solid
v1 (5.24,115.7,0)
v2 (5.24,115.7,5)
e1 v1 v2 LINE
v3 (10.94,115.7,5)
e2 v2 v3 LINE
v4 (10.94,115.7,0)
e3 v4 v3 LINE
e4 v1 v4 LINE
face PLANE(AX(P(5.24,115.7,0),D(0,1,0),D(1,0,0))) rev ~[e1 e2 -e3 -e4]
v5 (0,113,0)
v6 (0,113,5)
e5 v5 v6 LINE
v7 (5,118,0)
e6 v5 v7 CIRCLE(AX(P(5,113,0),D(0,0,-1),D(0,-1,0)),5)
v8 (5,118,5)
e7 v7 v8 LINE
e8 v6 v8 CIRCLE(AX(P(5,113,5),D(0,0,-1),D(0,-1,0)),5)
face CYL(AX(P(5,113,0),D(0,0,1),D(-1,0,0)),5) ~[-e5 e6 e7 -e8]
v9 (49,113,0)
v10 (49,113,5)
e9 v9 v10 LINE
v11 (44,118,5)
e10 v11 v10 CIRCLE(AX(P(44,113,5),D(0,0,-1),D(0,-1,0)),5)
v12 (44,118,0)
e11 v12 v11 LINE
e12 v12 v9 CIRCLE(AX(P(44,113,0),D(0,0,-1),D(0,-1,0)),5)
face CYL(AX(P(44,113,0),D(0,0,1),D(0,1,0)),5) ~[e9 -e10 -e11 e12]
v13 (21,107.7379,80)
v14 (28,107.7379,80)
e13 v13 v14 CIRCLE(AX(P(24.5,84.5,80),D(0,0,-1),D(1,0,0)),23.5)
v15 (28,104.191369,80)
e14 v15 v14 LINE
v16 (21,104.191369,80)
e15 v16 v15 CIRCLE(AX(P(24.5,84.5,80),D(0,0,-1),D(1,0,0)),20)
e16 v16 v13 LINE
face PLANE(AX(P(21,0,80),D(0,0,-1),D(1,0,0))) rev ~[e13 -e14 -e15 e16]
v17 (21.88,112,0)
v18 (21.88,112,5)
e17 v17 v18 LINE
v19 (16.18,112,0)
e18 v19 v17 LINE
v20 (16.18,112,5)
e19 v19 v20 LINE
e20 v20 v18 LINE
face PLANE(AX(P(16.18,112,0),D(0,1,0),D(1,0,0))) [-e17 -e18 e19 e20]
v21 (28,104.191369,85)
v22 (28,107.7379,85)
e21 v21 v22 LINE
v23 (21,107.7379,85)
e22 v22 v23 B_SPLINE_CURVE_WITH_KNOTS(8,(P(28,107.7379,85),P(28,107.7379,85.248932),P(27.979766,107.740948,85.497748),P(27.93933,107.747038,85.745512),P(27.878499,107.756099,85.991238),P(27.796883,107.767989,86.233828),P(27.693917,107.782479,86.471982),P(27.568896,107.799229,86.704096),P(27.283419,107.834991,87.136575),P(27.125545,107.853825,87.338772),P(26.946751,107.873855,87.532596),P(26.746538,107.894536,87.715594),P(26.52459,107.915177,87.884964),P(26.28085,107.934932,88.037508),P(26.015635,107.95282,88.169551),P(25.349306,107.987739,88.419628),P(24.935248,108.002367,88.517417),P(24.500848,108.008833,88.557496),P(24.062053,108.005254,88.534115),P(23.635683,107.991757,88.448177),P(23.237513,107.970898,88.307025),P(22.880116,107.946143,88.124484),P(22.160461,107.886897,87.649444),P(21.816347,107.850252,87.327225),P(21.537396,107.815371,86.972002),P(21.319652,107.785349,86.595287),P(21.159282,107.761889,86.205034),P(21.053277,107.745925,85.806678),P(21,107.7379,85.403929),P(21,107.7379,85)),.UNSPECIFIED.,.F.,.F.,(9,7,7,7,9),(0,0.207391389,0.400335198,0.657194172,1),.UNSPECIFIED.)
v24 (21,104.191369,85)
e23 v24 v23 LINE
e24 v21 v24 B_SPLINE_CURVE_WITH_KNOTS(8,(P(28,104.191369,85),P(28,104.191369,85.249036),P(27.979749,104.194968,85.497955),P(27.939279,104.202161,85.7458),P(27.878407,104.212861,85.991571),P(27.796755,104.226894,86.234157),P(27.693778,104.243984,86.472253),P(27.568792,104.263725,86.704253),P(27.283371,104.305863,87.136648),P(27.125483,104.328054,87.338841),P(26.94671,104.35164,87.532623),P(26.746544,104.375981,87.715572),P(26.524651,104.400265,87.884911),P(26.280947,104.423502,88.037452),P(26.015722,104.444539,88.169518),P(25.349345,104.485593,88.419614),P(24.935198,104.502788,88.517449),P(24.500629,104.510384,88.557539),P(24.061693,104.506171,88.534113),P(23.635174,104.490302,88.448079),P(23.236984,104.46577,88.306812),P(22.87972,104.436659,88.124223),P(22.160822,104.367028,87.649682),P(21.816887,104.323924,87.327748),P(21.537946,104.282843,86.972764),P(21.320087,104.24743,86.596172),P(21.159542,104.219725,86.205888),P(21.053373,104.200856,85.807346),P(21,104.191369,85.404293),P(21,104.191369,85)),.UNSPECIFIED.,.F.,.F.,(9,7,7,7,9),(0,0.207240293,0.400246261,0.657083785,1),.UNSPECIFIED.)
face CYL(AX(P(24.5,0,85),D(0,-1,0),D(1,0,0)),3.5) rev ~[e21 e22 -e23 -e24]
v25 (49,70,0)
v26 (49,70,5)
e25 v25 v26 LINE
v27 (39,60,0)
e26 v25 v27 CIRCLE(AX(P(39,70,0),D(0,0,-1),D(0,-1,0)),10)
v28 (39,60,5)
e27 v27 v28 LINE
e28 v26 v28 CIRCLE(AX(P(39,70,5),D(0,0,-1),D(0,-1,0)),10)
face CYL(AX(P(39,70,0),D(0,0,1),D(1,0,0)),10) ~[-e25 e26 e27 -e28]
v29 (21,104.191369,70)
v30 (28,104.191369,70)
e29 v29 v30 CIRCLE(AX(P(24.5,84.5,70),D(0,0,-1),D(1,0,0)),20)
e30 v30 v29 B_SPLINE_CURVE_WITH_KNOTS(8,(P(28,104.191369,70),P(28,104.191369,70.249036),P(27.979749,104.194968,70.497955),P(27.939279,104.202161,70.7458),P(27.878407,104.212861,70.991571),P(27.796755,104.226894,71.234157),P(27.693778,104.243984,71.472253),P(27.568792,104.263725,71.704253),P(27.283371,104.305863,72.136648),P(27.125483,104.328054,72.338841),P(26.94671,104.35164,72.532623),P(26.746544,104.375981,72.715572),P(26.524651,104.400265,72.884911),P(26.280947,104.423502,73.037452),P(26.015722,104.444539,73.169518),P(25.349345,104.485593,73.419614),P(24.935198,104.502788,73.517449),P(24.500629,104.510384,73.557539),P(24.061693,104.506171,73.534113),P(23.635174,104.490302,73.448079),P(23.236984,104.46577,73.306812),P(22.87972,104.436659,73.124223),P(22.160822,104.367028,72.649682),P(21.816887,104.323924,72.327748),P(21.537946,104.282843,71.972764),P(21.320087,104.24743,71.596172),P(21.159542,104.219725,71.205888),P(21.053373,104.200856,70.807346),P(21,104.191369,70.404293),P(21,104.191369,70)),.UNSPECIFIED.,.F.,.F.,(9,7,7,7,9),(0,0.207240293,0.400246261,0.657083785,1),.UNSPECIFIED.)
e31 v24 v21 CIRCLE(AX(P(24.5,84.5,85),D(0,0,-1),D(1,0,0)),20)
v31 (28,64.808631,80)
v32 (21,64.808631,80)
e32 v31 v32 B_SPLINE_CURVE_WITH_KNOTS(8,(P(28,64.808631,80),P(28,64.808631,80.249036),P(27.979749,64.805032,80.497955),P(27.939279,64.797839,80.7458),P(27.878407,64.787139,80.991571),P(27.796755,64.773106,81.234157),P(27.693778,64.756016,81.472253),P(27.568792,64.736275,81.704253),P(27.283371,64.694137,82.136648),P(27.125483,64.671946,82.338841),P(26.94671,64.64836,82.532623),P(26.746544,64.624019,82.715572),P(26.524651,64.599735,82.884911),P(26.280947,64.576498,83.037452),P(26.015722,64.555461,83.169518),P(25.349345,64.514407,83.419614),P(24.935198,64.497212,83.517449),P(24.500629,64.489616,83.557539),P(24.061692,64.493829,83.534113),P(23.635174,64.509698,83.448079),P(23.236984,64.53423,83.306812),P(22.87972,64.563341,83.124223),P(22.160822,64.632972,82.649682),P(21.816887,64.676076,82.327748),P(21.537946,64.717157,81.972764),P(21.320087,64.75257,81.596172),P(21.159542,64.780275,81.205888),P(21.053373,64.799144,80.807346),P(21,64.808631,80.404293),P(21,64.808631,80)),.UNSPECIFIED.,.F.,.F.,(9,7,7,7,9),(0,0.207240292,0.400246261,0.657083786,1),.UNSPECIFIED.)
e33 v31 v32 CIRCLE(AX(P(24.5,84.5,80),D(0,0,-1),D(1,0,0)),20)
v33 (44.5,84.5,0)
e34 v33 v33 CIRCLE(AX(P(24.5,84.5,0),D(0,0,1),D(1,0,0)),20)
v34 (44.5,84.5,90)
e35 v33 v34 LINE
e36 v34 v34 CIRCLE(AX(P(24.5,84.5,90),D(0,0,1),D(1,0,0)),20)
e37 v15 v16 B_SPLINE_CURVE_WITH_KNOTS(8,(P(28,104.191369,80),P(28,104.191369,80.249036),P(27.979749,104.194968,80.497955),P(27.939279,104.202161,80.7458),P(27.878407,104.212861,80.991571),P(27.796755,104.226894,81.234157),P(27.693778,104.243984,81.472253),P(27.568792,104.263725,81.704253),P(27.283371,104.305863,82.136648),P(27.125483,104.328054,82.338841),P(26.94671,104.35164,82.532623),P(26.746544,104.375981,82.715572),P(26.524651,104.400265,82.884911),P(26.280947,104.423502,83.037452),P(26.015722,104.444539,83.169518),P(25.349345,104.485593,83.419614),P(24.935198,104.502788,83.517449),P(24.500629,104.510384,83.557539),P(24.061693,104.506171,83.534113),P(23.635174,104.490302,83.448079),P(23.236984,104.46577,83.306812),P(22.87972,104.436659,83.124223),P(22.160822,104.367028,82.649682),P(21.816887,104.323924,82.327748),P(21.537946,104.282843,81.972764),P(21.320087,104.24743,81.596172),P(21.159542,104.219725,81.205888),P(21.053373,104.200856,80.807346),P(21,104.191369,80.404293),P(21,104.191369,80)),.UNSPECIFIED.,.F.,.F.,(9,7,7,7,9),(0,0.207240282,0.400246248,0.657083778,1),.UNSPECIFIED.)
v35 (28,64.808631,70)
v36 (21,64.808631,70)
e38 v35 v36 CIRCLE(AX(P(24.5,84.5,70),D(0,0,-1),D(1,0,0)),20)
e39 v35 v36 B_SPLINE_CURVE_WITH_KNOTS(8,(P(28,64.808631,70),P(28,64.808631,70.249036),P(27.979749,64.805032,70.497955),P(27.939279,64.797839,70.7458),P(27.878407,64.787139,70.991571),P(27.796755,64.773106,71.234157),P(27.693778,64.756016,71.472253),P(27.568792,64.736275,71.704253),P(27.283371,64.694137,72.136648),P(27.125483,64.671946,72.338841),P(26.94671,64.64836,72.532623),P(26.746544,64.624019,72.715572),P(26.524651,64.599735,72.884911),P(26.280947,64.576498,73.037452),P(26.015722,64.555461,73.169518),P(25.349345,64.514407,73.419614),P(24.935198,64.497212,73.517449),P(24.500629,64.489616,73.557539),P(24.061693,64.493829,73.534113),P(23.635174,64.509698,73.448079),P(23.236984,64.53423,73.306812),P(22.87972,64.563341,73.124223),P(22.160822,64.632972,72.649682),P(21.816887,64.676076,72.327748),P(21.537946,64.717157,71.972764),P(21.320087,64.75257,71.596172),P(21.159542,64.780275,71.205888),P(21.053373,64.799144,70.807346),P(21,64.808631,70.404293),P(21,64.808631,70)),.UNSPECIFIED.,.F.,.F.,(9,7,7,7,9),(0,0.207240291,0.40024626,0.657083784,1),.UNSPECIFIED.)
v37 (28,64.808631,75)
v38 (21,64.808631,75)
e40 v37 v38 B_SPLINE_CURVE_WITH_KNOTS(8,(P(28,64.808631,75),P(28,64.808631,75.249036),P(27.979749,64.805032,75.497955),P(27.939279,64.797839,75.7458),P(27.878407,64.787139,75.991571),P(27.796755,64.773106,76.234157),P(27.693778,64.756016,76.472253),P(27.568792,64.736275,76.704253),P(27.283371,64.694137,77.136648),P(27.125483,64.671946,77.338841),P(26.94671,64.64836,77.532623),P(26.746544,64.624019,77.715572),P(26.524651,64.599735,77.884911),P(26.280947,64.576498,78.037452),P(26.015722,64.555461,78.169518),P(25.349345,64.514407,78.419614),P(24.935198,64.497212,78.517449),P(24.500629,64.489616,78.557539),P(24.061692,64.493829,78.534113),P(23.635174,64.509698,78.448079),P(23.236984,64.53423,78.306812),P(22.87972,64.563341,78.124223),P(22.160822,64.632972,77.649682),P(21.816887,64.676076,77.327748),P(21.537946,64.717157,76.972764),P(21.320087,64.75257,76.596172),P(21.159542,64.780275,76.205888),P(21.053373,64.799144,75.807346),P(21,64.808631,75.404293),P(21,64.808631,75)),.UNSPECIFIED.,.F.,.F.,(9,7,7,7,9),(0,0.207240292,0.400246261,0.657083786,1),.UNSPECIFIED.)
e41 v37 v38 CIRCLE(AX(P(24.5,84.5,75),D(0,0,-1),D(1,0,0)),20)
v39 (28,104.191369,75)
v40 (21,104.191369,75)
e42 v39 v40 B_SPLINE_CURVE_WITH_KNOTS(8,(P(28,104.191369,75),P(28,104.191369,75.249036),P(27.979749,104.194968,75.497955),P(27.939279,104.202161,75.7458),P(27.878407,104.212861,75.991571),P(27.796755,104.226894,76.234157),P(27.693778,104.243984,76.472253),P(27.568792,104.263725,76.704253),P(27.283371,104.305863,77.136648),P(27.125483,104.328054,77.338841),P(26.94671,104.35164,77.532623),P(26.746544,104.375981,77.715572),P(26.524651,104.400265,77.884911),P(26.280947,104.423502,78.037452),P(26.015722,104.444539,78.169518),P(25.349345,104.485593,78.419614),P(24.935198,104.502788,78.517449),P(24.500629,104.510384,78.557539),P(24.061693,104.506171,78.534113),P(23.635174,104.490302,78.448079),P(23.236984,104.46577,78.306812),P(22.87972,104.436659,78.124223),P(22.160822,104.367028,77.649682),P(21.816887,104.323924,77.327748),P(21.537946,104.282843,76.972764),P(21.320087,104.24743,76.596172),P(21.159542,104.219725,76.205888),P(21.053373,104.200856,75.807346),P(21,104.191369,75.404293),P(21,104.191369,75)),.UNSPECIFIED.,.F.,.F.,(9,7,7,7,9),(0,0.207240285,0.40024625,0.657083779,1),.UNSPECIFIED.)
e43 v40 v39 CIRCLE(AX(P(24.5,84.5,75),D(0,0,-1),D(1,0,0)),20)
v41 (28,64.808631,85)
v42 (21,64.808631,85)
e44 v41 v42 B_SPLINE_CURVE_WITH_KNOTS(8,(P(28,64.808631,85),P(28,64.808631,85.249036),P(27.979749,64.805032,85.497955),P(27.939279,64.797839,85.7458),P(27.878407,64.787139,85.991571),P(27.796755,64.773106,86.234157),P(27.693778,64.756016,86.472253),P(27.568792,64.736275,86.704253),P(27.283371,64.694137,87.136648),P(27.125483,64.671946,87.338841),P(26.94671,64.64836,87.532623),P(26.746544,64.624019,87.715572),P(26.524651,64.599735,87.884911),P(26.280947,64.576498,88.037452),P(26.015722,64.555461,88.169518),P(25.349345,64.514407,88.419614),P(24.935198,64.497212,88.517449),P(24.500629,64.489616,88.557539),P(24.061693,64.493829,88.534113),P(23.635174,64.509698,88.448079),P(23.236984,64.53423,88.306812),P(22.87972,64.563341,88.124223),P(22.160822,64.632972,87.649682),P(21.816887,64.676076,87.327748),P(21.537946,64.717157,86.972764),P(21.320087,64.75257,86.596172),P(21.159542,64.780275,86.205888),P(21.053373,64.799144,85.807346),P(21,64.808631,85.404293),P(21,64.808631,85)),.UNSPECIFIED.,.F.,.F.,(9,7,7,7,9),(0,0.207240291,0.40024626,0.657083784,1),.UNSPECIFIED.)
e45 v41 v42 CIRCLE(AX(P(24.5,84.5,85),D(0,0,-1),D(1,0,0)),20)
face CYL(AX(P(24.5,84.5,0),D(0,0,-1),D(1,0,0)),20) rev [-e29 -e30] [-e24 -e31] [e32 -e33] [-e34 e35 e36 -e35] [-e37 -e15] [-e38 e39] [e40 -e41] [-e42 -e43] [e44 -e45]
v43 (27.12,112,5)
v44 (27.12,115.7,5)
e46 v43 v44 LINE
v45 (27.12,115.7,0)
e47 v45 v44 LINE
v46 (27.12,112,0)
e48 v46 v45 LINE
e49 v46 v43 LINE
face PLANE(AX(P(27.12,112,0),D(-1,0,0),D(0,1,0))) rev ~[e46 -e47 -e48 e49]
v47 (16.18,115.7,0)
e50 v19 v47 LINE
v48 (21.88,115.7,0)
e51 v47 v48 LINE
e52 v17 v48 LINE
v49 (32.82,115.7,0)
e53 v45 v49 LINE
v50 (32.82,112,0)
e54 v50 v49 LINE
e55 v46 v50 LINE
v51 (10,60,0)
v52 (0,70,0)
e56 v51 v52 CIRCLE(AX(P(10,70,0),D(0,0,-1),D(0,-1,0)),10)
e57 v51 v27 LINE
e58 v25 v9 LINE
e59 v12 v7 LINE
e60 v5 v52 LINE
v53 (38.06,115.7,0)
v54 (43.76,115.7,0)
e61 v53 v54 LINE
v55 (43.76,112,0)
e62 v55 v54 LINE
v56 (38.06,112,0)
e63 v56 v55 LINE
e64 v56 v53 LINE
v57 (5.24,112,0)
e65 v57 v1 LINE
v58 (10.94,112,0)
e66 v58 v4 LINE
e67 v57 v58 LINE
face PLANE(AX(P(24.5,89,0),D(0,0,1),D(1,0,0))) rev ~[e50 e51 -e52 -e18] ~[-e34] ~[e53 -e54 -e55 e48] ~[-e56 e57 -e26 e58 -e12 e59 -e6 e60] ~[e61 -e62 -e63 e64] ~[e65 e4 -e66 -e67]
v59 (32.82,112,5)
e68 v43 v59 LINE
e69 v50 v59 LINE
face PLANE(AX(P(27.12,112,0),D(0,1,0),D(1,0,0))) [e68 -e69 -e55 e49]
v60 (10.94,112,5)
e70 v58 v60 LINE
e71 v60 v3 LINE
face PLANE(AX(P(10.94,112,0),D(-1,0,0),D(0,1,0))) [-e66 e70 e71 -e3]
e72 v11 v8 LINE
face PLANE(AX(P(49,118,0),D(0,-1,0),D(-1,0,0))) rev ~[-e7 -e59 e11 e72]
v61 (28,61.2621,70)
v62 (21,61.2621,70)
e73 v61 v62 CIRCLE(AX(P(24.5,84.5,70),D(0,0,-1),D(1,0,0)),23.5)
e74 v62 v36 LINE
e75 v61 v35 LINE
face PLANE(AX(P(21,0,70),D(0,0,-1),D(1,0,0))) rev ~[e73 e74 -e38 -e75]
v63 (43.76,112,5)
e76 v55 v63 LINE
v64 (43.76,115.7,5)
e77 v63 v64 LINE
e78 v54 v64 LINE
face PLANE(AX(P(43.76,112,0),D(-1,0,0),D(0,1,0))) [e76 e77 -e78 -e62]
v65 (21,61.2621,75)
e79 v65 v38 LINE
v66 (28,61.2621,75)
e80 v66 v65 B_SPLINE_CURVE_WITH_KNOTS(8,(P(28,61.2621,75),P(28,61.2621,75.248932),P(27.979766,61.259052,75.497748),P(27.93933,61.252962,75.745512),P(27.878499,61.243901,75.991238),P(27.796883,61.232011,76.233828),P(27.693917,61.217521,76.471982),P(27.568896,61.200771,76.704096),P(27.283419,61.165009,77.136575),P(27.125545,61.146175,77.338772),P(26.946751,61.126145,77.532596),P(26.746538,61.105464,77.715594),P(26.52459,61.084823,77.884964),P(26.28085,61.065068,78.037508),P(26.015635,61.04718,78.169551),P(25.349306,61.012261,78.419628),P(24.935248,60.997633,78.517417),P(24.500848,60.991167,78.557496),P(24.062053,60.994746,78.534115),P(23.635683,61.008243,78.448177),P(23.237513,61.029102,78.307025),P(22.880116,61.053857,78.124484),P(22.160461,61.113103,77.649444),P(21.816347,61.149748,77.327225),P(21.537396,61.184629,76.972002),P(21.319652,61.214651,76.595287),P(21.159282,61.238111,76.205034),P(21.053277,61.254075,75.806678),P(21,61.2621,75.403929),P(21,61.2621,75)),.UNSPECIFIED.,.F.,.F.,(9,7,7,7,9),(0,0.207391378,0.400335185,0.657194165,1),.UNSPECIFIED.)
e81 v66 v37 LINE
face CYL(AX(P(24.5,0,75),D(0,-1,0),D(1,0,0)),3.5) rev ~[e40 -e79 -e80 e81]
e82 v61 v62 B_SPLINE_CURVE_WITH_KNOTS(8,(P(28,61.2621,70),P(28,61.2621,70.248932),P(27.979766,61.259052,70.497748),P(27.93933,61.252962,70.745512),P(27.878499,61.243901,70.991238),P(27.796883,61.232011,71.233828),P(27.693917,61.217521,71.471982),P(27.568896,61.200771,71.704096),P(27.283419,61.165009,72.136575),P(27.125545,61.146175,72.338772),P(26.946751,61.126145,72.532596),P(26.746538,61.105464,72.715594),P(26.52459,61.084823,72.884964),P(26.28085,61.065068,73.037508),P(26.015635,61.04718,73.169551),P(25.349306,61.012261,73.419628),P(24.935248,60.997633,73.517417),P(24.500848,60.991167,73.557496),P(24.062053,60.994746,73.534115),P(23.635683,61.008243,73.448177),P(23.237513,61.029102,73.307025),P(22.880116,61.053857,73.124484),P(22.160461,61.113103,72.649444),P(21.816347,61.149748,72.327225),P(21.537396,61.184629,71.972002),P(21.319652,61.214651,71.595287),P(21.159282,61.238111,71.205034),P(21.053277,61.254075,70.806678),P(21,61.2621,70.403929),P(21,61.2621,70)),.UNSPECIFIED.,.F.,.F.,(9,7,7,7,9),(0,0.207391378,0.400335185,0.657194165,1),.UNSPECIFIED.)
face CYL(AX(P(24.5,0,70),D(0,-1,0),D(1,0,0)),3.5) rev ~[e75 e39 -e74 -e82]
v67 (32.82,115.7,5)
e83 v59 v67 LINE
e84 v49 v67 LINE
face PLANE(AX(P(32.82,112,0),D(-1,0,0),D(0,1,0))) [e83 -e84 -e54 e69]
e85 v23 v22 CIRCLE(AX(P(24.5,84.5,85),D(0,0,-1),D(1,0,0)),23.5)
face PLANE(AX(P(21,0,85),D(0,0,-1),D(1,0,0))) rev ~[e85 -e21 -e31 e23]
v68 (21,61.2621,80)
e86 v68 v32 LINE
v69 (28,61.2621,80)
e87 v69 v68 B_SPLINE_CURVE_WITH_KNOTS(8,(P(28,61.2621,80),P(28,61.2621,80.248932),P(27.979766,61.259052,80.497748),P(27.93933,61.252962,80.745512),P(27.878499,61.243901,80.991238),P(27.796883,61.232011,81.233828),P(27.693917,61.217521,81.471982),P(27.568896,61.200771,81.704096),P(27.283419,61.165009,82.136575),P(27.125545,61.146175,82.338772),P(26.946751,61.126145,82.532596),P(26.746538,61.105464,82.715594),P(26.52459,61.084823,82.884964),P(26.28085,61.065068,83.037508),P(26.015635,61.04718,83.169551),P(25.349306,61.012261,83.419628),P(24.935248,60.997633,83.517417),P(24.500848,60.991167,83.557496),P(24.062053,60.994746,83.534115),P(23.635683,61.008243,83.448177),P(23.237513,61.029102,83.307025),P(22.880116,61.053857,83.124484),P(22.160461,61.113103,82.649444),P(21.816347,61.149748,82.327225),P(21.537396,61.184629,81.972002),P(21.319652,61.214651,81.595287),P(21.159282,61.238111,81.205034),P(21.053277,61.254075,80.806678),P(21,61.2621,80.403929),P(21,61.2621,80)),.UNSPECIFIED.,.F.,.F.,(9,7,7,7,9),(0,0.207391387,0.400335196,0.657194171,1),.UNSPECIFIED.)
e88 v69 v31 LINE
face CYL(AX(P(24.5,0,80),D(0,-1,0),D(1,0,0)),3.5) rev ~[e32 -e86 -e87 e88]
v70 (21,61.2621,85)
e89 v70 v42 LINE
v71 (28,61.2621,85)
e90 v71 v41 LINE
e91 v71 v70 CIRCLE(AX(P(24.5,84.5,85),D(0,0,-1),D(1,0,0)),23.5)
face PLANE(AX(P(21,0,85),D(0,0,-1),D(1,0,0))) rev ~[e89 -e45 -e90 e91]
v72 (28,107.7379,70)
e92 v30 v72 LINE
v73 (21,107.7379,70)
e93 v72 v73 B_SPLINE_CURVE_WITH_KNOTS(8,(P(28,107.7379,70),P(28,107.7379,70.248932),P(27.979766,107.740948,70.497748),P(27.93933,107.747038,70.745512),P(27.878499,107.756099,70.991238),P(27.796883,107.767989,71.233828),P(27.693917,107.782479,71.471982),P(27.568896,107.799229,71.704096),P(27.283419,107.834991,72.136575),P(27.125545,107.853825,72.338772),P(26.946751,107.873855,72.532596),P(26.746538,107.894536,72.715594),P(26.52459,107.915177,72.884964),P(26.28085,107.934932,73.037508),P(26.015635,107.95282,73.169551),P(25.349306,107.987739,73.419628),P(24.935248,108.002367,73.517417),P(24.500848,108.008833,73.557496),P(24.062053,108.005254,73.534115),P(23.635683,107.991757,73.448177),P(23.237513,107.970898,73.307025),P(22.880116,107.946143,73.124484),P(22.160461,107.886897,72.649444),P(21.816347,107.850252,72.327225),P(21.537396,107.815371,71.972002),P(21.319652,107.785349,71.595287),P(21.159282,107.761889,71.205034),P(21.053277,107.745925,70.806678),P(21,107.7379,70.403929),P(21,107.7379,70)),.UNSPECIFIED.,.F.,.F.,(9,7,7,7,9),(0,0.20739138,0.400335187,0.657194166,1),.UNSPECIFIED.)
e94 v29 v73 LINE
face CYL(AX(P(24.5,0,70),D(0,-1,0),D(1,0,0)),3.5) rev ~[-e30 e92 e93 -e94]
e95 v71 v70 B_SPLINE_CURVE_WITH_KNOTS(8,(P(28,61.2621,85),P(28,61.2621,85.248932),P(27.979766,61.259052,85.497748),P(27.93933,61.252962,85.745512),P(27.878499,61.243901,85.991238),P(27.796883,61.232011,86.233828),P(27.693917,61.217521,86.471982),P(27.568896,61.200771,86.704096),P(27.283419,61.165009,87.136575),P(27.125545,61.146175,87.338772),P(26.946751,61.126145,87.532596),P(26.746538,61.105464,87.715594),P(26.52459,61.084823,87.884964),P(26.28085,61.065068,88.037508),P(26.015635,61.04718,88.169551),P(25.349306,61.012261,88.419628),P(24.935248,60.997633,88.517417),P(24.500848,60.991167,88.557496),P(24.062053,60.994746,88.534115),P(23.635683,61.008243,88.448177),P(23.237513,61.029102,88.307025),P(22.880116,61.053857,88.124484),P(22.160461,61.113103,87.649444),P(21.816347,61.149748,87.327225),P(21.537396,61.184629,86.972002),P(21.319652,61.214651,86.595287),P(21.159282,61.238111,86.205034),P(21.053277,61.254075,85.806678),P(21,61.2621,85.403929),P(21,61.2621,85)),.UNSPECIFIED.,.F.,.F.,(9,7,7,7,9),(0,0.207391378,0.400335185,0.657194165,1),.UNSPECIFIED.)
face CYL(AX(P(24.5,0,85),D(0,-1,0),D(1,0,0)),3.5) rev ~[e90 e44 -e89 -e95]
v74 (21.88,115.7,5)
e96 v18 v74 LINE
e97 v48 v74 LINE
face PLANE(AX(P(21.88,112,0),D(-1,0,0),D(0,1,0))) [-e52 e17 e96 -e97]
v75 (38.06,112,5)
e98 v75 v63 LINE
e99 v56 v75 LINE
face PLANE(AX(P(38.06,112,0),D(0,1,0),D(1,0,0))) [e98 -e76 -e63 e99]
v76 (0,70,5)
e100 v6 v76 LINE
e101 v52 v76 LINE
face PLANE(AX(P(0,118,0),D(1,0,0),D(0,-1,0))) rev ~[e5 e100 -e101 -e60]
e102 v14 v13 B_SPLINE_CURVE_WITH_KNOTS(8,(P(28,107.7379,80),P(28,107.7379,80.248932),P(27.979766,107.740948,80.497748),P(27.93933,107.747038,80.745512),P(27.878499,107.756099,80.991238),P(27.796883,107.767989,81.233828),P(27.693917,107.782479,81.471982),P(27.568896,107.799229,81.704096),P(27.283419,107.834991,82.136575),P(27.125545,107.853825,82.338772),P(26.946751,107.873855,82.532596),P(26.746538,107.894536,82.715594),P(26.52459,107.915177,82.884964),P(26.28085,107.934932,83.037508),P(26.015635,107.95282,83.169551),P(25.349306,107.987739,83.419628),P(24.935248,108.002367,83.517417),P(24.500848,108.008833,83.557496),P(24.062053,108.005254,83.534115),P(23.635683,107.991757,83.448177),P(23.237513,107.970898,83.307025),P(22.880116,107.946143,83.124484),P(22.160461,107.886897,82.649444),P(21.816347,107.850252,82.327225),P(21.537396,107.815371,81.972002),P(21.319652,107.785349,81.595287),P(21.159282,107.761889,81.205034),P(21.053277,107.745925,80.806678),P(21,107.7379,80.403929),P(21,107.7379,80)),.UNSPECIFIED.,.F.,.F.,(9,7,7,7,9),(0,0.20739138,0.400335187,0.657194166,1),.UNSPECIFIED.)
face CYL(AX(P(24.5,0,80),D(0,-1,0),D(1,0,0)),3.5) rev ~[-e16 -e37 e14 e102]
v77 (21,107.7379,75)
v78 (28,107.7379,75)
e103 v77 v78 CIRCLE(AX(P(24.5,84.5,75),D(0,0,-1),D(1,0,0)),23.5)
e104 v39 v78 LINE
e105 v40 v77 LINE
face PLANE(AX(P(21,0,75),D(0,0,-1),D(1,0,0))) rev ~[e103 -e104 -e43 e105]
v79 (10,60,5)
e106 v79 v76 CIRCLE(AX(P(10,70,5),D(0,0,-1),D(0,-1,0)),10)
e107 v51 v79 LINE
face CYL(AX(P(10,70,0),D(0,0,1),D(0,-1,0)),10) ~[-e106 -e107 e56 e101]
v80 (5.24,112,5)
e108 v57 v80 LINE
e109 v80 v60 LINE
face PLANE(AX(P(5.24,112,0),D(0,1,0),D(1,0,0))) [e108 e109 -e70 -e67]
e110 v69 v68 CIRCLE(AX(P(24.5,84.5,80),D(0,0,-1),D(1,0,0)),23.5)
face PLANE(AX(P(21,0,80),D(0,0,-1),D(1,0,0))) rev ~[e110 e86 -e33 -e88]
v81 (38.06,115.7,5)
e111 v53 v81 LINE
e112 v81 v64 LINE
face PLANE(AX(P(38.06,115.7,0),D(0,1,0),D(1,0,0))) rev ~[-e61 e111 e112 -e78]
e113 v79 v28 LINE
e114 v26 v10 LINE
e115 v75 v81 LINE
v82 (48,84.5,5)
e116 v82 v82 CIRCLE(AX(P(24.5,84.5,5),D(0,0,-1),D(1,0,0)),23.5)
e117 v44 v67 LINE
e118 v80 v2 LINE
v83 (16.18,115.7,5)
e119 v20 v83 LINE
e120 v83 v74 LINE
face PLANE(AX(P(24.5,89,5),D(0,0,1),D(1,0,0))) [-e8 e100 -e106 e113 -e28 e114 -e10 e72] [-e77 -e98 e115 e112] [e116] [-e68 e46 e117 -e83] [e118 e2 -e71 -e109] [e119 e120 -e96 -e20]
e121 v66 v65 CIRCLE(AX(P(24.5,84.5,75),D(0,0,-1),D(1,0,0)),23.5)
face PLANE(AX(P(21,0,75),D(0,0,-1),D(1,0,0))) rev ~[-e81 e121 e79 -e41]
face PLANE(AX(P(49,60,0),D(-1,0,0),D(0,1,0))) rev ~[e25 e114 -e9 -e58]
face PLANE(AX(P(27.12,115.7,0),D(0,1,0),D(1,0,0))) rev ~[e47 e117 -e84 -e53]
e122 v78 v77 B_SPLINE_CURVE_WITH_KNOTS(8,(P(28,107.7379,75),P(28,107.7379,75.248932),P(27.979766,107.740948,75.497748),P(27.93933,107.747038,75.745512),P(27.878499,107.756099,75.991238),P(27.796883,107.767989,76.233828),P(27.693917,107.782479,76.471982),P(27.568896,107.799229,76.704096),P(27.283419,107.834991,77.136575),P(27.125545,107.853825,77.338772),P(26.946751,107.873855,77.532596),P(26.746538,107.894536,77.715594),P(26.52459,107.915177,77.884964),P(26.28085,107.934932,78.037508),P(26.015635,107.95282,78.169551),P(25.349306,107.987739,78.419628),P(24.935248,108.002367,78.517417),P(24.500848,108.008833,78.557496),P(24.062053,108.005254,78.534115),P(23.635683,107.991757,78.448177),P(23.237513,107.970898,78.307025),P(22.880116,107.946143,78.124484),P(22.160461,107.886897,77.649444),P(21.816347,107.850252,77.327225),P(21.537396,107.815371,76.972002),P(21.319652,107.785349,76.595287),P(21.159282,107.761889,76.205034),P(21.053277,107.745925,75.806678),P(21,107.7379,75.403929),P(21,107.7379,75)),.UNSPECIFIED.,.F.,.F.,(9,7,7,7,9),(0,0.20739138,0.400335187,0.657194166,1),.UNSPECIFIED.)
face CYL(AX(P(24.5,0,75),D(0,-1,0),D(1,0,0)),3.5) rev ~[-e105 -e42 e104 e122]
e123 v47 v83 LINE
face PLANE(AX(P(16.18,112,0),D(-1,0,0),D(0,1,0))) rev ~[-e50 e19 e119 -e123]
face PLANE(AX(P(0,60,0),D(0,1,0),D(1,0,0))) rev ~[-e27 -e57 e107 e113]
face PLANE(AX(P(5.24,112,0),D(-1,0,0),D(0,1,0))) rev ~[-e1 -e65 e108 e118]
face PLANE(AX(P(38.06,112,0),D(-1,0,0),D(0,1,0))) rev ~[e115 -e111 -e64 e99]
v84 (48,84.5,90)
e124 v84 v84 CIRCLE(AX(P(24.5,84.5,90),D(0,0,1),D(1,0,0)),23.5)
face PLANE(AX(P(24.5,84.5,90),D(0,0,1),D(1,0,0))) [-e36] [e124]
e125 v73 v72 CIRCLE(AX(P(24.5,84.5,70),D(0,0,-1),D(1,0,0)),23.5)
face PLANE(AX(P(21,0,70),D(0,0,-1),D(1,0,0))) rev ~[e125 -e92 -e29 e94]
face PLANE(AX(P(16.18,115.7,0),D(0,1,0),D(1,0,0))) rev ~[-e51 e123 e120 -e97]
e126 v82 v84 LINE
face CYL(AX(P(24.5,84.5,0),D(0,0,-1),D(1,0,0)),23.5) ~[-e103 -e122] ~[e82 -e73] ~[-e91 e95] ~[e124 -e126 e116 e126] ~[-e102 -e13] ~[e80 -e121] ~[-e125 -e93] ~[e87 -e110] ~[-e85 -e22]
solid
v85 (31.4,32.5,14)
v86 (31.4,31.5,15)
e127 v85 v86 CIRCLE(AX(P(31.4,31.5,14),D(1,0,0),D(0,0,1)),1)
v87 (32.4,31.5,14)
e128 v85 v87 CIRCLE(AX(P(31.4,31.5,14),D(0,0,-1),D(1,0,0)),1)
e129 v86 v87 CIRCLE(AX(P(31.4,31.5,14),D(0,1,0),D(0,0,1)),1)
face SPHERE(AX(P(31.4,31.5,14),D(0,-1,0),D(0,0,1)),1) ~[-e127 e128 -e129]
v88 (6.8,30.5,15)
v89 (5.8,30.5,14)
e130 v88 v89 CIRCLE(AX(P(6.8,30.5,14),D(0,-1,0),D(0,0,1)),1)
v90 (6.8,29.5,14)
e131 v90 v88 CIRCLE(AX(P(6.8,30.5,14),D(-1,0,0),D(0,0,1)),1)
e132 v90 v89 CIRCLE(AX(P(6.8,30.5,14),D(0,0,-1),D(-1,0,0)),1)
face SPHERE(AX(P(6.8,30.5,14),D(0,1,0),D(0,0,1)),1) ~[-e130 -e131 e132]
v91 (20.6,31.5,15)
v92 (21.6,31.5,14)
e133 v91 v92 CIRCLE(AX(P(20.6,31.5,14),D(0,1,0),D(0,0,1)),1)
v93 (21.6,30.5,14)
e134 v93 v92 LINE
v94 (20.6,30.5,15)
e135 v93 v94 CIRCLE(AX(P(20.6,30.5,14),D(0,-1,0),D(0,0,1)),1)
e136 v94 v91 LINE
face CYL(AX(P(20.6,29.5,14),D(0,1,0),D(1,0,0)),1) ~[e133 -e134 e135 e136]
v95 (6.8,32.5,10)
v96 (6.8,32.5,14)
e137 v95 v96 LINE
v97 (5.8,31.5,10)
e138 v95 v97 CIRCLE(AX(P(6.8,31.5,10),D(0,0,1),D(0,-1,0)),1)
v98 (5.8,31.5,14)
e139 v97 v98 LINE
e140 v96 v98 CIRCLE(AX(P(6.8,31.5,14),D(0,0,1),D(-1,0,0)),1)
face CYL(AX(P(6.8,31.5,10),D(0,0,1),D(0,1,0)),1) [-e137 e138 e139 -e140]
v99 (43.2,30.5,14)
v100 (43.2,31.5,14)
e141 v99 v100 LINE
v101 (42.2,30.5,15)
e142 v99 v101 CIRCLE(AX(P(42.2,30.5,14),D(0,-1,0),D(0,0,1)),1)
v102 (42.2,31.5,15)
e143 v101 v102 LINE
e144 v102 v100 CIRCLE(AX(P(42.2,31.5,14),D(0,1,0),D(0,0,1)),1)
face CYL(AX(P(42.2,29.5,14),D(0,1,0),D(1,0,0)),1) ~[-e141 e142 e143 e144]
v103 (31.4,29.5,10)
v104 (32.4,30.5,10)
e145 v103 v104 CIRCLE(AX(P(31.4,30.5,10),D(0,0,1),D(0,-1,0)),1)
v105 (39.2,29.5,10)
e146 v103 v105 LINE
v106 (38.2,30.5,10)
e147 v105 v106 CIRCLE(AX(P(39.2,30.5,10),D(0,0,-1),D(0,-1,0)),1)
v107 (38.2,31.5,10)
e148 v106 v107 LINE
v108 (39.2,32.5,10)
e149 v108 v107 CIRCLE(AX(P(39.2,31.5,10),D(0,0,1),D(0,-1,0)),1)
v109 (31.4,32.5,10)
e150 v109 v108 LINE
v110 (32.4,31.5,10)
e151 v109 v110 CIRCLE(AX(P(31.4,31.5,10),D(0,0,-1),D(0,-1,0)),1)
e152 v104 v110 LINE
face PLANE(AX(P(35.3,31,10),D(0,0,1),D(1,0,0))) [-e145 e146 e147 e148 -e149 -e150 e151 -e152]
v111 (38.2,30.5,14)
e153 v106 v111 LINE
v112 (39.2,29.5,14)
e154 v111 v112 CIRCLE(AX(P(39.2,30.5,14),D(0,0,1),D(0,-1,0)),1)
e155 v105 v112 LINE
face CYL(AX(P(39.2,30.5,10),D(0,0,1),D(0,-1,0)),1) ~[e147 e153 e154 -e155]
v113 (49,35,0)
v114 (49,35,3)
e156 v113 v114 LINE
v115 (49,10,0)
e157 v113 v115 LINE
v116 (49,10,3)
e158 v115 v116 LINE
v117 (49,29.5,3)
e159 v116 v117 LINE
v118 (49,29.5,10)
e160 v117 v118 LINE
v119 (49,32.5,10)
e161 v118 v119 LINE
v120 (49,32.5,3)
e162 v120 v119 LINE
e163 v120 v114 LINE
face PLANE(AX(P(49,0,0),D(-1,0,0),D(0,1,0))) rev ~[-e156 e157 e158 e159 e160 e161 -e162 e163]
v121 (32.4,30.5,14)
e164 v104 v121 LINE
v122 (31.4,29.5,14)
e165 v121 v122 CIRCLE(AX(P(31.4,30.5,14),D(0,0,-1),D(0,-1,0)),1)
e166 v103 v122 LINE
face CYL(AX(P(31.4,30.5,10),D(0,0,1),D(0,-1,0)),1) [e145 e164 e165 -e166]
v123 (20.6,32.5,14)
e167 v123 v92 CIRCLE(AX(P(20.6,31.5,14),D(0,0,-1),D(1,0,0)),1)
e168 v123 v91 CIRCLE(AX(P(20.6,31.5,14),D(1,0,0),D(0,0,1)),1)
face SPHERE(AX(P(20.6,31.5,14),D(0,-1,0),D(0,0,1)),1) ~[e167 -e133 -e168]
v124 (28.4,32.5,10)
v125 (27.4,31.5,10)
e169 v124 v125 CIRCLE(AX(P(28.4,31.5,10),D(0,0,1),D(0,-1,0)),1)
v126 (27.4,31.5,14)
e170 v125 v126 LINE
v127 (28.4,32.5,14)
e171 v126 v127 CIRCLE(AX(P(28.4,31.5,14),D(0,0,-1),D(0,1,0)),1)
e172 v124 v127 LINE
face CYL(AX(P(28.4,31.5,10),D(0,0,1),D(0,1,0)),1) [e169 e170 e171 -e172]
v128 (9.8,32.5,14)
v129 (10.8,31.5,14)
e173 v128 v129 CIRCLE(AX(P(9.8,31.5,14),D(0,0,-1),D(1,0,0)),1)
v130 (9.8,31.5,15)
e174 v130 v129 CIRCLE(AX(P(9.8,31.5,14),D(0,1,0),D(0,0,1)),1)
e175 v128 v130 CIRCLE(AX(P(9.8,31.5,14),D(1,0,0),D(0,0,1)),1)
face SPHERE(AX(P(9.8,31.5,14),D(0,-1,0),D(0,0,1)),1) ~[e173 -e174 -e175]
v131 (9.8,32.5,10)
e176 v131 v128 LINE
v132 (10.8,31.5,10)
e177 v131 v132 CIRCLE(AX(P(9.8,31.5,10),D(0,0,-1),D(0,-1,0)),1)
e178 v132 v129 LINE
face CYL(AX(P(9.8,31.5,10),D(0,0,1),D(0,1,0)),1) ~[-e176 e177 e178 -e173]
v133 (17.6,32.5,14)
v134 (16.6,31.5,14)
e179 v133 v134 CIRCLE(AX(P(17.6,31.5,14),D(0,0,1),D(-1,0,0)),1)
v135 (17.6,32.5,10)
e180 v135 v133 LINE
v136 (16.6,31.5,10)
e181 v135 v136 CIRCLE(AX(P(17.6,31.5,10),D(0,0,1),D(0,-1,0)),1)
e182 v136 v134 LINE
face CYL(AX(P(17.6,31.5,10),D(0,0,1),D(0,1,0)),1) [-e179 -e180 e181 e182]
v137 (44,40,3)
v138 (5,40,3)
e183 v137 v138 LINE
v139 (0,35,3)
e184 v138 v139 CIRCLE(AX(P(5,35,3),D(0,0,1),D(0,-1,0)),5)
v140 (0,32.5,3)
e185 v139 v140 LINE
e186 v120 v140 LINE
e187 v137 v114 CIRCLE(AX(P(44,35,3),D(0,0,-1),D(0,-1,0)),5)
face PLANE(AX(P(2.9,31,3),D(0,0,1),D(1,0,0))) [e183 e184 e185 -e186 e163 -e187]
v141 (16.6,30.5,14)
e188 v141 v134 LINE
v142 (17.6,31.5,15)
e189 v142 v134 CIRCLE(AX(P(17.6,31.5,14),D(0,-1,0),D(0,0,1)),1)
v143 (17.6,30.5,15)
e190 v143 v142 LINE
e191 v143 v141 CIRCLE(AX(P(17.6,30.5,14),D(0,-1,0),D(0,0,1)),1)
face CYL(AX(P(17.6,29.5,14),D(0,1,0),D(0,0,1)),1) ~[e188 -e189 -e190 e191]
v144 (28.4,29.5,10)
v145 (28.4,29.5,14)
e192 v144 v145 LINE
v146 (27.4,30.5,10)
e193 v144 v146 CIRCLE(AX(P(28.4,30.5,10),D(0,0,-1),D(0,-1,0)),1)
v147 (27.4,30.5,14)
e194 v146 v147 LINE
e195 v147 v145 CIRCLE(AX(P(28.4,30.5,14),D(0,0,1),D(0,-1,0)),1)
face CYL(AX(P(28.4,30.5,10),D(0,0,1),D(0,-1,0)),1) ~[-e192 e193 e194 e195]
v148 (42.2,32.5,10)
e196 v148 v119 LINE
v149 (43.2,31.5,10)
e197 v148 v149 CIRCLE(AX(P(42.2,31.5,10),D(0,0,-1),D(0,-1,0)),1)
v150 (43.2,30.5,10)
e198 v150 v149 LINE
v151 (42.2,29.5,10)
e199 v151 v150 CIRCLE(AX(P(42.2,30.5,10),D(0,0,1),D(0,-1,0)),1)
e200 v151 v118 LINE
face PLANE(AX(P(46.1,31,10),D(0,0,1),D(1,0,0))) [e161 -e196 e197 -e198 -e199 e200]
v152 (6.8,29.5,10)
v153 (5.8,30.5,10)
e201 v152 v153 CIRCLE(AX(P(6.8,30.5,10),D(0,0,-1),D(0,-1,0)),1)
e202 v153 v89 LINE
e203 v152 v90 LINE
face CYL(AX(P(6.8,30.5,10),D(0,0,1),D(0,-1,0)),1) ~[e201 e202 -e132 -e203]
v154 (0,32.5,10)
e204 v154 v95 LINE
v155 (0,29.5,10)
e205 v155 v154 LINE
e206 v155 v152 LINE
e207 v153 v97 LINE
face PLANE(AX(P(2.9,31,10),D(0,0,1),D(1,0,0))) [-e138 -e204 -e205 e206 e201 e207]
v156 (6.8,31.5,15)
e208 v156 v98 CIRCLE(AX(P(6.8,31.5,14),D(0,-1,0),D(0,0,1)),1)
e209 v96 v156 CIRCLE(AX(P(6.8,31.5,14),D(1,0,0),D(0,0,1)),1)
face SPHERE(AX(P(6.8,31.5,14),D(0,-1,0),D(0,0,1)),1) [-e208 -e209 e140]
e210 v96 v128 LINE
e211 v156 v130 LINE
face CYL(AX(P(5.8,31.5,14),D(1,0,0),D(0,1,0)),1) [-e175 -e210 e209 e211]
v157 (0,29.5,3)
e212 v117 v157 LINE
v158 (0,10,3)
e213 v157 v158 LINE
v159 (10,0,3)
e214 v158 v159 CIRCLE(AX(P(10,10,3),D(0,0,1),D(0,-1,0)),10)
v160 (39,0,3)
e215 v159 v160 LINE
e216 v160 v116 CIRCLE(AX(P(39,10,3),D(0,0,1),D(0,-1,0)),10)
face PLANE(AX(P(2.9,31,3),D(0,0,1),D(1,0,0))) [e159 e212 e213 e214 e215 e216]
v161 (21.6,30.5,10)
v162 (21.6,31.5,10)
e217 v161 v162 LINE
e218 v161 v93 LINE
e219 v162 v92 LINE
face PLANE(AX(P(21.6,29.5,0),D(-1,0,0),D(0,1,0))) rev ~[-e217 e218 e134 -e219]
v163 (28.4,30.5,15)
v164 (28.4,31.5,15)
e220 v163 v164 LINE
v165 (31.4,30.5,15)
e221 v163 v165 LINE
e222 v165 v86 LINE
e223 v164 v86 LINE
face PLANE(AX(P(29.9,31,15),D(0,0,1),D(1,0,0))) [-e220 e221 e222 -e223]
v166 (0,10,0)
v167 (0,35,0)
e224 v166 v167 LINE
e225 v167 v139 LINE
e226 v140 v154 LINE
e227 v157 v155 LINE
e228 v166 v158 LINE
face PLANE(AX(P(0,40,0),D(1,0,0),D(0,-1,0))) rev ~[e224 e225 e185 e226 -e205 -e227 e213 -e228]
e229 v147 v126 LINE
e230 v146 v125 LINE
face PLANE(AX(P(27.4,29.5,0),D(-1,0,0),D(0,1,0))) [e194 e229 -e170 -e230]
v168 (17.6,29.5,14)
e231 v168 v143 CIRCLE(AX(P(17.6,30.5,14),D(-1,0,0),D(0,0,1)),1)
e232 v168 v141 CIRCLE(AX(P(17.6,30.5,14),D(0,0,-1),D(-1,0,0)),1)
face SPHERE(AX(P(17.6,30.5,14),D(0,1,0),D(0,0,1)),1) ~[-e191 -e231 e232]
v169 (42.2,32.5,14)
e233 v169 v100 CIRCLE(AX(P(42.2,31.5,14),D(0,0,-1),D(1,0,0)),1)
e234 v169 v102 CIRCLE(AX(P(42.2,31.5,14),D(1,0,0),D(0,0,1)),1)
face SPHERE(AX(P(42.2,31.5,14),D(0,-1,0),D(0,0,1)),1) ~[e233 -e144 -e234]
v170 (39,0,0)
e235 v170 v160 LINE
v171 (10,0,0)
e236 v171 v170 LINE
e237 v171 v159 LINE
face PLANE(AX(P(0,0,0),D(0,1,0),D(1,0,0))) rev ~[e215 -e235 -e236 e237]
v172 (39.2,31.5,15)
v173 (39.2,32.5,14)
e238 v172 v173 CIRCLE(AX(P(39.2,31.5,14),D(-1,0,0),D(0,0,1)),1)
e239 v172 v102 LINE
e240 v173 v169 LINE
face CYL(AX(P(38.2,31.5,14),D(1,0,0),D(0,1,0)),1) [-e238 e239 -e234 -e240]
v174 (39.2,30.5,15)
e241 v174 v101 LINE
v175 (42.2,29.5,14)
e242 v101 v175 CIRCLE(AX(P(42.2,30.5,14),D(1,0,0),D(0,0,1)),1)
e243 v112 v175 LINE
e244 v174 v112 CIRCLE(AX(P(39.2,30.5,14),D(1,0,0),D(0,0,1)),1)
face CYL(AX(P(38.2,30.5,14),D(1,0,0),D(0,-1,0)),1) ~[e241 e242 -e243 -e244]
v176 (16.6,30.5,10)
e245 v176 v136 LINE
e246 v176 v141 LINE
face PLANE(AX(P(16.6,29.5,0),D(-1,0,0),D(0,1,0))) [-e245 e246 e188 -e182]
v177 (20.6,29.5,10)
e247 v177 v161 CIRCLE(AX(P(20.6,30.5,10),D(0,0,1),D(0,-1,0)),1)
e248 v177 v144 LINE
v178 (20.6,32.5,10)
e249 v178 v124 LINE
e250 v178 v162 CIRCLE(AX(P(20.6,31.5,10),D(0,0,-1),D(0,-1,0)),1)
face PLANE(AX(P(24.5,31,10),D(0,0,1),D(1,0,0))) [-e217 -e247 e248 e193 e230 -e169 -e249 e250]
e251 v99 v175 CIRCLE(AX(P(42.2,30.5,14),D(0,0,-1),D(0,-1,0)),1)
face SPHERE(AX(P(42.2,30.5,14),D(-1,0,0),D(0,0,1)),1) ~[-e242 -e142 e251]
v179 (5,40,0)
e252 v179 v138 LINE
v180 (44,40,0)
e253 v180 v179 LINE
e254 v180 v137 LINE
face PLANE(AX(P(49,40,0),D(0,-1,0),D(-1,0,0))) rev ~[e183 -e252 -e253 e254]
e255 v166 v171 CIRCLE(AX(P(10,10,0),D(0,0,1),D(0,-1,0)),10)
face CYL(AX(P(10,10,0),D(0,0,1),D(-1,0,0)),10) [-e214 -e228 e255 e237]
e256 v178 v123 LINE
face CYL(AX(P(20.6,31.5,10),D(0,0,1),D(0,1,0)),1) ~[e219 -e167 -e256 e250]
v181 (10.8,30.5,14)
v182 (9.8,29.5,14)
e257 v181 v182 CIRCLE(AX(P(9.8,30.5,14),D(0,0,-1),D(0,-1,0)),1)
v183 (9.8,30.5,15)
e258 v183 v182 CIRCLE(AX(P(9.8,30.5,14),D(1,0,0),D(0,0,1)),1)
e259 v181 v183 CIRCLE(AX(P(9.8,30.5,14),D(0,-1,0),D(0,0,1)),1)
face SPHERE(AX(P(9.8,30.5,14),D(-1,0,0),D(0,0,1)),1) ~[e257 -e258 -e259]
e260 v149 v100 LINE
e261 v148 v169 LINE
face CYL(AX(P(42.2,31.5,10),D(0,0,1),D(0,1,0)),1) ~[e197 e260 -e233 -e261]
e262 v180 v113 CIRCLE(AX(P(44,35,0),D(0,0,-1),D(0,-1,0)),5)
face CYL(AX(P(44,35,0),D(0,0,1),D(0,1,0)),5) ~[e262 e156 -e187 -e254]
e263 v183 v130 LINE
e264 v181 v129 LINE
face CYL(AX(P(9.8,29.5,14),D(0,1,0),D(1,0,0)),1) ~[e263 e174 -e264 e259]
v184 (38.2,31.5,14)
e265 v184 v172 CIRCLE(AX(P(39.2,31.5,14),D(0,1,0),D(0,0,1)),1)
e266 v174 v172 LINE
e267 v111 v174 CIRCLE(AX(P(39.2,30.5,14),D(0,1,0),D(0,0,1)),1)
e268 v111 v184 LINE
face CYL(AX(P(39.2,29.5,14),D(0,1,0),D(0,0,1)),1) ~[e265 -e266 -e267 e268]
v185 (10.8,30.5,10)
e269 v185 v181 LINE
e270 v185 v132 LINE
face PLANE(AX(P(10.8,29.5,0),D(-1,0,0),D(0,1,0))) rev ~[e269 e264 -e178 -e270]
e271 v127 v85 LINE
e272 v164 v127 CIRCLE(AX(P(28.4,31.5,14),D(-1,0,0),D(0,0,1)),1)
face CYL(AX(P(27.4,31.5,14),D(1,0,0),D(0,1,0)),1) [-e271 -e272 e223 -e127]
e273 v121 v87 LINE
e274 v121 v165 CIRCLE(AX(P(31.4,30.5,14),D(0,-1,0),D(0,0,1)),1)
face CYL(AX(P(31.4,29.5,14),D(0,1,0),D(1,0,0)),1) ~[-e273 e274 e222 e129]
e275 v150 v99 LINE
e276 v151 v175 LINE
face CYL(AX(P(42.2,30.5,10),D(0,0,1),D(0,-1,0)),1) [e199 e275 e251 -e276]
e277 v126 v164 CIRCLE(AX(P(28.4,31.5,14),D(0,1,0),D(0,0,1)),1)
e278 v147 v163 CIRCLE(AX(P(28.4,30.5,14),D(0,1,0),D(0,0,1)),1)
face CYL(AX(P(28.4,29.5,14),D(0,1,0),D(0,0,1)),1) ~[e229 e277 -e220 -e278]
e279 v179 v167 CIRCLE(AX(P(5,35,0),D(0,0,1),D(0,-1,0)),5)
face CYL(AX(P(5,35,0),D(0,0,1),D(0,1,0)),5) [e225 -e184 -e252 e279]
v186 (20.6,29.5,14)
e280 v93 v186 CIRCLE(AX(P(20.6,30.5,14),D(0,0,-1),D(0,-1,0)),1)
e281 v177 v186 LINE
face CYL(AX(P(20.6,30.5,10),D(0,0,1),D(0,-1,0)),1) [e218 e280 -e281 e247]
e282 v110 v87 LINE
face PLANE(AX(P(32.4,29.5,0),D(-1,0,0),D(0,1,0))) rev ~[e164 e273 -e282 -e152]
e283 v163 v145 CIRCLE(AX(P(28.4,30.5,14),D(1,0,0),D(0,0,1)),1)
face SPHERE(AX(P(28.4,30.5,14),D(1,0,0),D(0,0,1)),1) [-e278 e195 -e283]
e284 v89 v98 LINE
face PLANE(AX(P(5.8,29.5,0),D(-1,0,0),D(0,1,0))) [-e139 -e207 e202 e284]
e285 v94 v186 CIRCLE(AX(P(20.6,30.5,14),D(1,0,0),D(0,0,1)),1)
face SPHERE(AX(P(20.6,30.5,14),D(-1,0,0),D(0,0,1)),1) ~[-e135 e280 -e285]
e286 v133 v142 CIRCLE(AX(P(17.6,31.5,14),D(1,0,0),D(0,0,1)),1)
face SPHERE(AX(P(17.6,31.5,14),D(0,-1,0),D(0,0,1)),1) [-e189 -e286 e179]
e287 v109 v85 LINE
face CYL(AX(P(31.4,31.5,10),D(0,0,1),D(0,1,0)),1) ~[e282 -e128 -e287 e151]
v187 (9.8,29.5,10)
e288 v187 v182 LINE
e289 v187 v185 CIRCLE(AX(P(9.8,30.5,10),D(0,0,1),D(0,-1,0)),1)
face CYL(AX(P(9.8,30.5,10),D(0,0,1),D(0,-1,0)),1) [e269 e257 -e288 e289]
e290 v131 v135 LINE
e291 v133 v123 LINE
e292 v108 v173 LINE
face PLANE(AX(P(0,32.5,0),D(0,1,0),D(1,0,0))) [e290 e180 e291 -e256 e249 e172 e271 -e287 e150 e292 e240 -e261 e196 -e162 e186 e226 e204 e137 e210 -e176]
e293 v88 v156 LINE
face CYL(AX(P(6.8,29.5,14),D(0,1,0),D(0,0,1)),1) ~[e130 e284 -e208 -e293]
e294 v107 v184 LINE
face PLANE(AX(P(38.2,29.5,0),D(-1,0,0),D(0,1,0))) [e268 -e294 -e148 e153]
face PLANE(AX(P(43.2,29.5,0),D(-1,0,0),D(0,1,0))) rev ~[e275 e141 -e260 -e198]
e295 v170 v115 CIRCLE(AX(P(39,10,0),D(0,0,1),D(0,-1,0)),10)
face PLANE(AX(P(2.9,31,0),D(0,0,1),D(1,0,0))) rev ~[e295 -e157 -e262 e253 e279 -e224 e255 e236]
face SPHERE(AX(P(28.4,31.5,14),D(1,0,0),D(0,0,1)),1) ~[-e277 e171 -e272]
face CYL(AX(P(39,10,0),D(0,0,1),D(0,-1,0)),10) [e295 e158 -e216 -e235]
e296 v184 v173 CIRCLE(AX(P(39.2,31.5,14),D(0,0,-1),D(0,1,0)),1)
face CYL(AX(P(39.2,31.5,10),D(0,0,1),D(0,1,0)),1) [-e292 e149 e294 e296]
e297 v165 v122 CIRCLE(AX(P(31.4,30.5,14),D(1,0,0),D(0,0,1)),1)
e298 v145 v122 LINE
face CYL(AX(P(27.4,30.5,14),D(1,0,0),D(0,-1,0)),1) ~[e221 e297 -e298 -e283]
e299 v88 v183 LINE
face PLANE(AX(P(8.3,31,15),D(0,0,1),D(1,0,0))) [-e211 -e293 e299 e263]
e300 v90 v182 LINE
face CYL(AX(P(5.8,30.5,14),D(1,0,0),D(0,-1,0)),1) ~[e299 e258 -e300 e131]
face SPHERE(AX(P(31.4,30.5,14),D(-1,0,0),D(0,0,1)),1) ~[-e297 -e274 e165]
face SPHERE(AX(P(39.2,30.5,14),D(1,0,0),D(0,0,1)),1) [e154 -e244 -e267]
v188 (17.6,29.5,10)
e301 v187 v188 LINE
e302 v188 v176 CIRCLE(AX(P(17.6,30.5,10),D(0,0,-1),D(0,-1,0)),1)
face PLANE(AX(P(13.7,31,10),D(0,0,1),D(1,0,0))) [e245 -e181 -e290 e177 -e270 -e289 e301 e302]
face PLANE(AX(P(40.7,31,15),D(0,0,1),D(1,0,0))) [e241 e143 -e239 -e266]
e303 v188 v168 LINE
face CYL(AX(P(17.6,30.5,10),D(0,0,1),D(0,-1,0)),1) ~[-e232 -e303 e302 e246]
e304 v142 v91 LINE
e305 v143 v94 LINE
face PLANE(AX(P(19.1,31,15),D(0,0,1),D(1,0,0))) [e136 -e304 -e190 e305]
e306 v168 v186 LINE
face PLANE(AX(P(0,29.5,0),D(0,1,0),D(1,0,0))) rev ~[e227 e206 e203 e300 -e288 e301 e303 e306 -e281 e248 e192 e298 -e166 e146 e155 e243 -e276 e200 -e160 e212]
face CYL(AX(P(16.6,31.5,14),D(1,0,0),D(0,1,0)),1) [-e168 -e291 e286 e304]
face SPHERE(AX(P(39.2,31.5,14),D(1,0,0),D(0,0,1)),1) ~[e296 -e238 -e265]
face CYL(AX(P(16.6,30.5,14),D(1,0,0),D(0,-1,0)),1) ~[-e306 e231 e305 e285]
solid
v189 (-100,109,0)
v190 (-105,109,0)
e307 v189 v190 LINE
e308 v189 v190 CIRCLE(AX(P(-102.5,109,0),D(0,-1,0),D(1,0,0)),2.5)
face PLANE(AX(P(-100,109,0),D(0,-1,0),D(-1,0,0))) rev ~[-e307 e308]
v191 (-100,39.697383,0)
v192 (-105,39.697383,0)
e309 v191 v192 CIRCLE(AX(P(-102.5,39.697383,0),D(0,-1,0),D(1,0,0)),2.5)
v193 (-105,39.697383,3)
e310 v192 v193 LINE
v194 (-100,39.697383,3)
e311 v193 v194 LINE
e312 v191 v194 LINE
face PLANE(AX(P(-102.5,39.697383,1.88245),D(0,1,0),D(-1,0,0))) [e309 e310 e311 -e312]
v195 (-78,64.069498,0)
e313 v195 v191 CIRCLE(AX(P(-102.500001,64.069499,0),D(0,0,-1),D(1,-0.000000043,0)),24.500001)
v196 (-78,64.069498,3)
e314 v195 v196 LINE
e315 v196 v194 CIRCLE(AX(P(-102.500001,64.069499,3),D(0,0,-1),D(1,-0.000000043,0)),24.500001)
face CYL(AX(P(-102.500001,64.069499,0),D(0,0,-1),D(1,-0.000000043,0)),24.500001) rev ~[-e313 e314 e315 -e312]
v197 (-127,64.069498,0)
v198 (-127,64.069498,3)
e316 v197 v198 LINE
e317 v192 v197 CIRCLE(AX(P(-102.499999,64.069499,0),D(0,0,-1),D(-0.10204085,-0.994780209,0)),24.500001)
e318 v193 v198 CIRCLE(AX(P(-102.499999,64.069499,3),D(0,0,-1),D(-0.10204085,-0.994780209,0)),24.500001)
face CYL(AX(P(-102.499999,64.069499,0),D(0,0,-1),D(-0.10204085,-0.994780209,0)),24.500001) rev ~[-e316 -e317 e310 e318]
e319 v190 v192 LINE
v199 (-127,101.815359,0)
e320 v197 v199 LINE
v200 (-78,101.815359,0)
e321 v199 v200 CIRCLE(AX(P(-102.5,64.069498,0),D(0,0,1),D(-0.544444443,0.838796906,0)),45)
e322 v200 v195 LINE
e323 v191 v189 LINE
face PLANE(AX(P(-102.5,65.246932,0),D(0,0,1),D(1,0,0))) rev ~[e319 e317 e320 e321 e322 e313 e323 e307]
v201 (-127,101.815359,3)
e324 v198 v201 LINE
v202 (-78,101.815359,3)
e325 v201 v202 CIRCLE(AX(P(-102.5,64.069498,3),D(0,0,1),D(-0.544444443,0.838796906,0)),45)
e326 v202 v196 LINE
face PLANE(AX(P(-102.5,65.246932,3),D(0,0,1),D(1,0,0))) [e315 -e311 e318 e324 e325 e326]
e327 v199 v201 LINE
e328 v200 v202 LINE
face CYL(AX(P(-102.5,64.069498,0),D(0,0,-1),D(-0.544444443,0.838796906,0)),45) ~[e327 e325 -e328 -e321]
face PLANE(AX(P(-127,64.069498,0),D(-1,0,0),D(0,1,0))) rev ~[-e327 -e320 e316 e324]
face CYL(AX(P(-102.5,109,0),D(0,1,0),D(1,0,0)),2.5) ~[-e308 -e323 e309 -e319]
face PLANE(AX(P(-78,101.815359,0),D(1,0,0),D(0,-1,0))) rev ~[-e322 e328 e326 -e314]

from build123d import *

# Parameters (mm, degrees)
F0_W      = 5.8
F0_H      = 3
F0_W_2    = 5
F1_DEPTH  = 3
F2_DEPTH  = 15
F3_DEPTH  = 10
F0_R      = 23.5
F0_W_3    = 5.7
F0_H_2    = 3.7
F0_R_2    = 20
F4_DEPTH  = 5
F5_DEPTH  = 90
F7_R      = 1
F8_R      = 5
F8_2_R    = 5
F9_R      = 10
F9_2_R    = 10
F11_DEPTH = 69.302617
F12_DEPTH = 118.001


with BuildPart() as f1:
    # F0 (on Top) → F1 (new body)
    with BuildSketch(Plane.XY):
        with Locations((2.9, 31)):
            Rectangle(F0_W, F0_H)
        with Locations((8.3, 31)):
            Rectangle(F0_W_2, F0_H)
        with Locations((19.1, 31)):
            Rectangle(F0_W_2, F0_H)
        with Locations((29.9, 31)):
            Rectangle(F0_W_2, F0_H)
        with Locations((40.7, 31)):
            Rectangle(F0_W_2, F0_H)
        Polygon((0, 29.5), (0, 0), (49, 0), (49, 29.5), (43.2, 29.5), (38.2, 29.5), (32.4, 29.5), (27.4, 29.5), (21.6, 29.5), (16.6, 29.5), (10.8, 29.5), (5.8, 29.5), align=None)
        with Locations((13.7, 31)):
            Rectangle(F0_W, F0_H)
        with Locations((24.5, 31)):
            Rectangle(F0_W, F0_H)
        with Locations((35.3, 31)):
            Rectangle(F0_W, F0_H)
        with Locations((46.1, 31)):
            Rectangle(F0_W, F0_H)
        Polygon((0, 40), (0, 32.5), (5.8, 32.5), (10.8, 32.5), (16.6, 32.5), (21.6, 32.5), (27.4, 32.5), (32.4, 32.5), (38.2, 32.5), (43.2, 32.5), (49, 32.5), (49, 40), align=None)
        with BuildLine():
            Line((-78, 101.815359), (-78, 64.069498))
            ThreePointArc((-78, 64.069498), (-84.313467, 47.653043), (-100, 39.697383))
            Line((-100, 39.697383), (-100, 109))
            Line((-100, 109), (-105, 109))
            Line((-105, 109), (-105, 39.697383))
            ThreePointArc((-105, 39.697383), (-120.686533, 47.653043), (-127, 64.069498))
            Line((-127, 64.069498), (-127, 101.815359))
            ThreePointArc((-127, 101.815359), (-102.5, 19.069498), (-78, 101.815359))
        make_face()
    extrude(amount=F1_DEPTH)

    # F0 (on Top) → F2 (join)
    with BuildSketch(Plane.XY):
        with Locations((8.3, 31)):
            Rectangle(F0_W_2, F0_H)
        with Locations((19.1, 31)):
            Rectangle(F0_W_2, F0_H)
        with Locations((29.9, 31)):
            Rectangle(F0_W_2, F0_H)
        with Locations((40.7, 31)):
            Rectangle(F0_W_2, F0_H)
    extrude(amount=F2_DEPTH)

    # F0 (on Top) → F3 (join)
    with BuildSketch(Plane.XY):
        with Locations((2.9, 31)):
            Rectangle(F0_W, F0_H)
        with Locations((13.7, 31)):
            Rectangle(F0_W, F0_H)
        with Locations((24.5, 31)):
            Rectangle(F0_W, F0_H)
        with Locations((35.3, 31)):
            Rectangle(F0_W, F0_H)
        with Locations((46.1, 31)):
            Rectangle(F0_W, F0_H)
    extrude(amount=F3_DEPTH)

    # F7
    f7_edges = [f1.edges().sort_by_distance(p)[0] for p in [
        (5.8, 31, 15),
        (8.3, 29.5, 15),
        (10.8, 31, 15),
        (8.3, 32.5, 15),
        (16.6, 31, 15),
        (19.1, 29.5, 15),
        (21.6, 31, 15),
        (19.1, 32.5, 15),
        (29.9, 29.5, 15),
        (32.4, 31, 15),
        (29.9, 32.5, 15),
        (27.4, 31, 15),
        (40.7, 29.5, 15),
        (43.2, 31, 15),
        (40.7, 32.5, 15),
        (38.2, 31, 15),
        (5.8, 29.5, 12.5),
        (10.8, 29.5, 12.5),
        (16.6, 29.5, 12.5),
        (21.6, 29.5, 12.5),
        (27.4, 29.5, 12.5),
        (32.4, 29.5, 12.5),
        (38.2, 29.5, 12.5),
        (43.2, 29.5, 12.5),
        (43.2, 32.5, 12.5),
        (38.2, 32.5, 12.5),
        (32.4, 32.5, 12.5),
        (27.4, 32.5, 12.5),
        (21.6, 32.5, 12.5),
        (16.6, 32.5, 12.5),
        (10.8, 32.5, 12.5),
        (5.8, 32.5, 12.5),
    ]]
    fillet(f7_edges, radius=F7_R)

    # F8
    f8_edges = [f1.edges().sort_by_distance(p)[0] for p in [
        (49, 40, 1.5),
        (0, 40, 1.5),
    ]]
    fillet(f8_edges, radius=F8_R)

    # F9
    f9_edges = [f1.edges().sort_by_distance(p)[0] for p in [
        (0, 0, 1.5),
        (49, 0, 1.5),
    ]]
    fillet(f9_edges, radius=F9_R)

    # F10 (on face) → F11 (cut, through all)
    with BuildSketch(Plane(origin=(0, 109, 0), x_dir=(-1, 0, 0), z_dir=(0, 1, 0))):
        with BuildLine():
            ThreePointArc((100, 0), (102.5, 2.5), (105, 0))
            Line((105, 0), (105, 3))
            Line((105, 3), (100, 3))
            Line((100, 3), (100, 0))
        make_face()
    extrude(amount=-F11_DEPTH, mode=Mode.SUBTRACT)


with BuildPart() as f4:
    # F0 (on Top) → F4 (new body)
    with BuildSketch(Plane.XY):
        Polygon((0, 109), (0, 60), (49, 60), (49, 109), (49, 118), (0, 118), align=None)
        with Locations((24.5, 84.5)):
            Circle(F0_R, mode=Mode.SUBTRACT)
        with Locations((8.09, 113.85)):
            Rectangle(F0_W_3, F0_H_2, mode=Mode.SUBTRACT)
        with Locations((19.03, 113.85)):
            Rectangle(F0_W_3, F0_H_2, mode=Mode.SUBTRACT)
        with Locations((29.97, 113.85)):
            Rectangle(F0_W_3, F0_H_2, mode=Mode.SUBTRACT)
        with Locations((40.91, 113.85)):
            Rectangle(F0_W_3, F0_H_2, mode=Mode.SUBTRACT)
        with Locations((24.5, 84.5)):
            Circle(F0_R)
        with Locations((24.5, 84.5)):
            Circle(F0_R_2, mode=Mode.SUBTRACT)
    extrude(amount=F4_DEPTH)

    # F0 (on Top) → F5 (join)
    with BuildSketch(Plane.XY):
        with Locations((24.5, 84.5)):
            Circle(F0_R)
        with Locations((24.5, 84.5)):
            Circle(F0_R_2, mode=Mode.SUBTRACT)
    extrude(amount=F5_DEPTH)

    # F8#2
    f8_2_edges = [f4.edges().sort_by_distance(p)[0] for p in [
        (0, 118, 2.5),
        (49, 118, 2.5),
    ]]
    fillet(f8_2_edges, radius=F8_2_R)

    # F9#2
    f9_2_edges = [f4.edges().sort_by_distance(p)[0] for p in [
        (0, 60, 2.5),
        (49, 60, 2.5),
    ]]
    fillet(f9_2_edges, radius=F9_2_R)

    # F6 (on Front) → F12 (cut, through all)
    with BuildSketch(Plane.XZ):
        with BuildLine():
            ThreePointArc((28, 85), (24.5, 88.5), (21, 85))
            Line((21, 85), (28, 85))
        make_face()
        with BuildLine():
            ThreePointArc((28, 80), (24.5, 83.5), (21, 80))
            Line((21, 80), (28, 80))
        make_face()
        with BuildLine():
            ThreePointArc((28, 75), (24.5, 78.5), (21, 75))
            Line((21, 75), (28, 75))
        make_face()
        with BuildLine():
            ThreePointArc((28, 70), (24.5, 73.5), (21, 70))
            Line((21, 70), (28, 70))
        make_face()
    extrude(amount=-F12_DEPTH, mode=Mode.SUBTRACT)


solid = Compound([f1.part, f4.part])
